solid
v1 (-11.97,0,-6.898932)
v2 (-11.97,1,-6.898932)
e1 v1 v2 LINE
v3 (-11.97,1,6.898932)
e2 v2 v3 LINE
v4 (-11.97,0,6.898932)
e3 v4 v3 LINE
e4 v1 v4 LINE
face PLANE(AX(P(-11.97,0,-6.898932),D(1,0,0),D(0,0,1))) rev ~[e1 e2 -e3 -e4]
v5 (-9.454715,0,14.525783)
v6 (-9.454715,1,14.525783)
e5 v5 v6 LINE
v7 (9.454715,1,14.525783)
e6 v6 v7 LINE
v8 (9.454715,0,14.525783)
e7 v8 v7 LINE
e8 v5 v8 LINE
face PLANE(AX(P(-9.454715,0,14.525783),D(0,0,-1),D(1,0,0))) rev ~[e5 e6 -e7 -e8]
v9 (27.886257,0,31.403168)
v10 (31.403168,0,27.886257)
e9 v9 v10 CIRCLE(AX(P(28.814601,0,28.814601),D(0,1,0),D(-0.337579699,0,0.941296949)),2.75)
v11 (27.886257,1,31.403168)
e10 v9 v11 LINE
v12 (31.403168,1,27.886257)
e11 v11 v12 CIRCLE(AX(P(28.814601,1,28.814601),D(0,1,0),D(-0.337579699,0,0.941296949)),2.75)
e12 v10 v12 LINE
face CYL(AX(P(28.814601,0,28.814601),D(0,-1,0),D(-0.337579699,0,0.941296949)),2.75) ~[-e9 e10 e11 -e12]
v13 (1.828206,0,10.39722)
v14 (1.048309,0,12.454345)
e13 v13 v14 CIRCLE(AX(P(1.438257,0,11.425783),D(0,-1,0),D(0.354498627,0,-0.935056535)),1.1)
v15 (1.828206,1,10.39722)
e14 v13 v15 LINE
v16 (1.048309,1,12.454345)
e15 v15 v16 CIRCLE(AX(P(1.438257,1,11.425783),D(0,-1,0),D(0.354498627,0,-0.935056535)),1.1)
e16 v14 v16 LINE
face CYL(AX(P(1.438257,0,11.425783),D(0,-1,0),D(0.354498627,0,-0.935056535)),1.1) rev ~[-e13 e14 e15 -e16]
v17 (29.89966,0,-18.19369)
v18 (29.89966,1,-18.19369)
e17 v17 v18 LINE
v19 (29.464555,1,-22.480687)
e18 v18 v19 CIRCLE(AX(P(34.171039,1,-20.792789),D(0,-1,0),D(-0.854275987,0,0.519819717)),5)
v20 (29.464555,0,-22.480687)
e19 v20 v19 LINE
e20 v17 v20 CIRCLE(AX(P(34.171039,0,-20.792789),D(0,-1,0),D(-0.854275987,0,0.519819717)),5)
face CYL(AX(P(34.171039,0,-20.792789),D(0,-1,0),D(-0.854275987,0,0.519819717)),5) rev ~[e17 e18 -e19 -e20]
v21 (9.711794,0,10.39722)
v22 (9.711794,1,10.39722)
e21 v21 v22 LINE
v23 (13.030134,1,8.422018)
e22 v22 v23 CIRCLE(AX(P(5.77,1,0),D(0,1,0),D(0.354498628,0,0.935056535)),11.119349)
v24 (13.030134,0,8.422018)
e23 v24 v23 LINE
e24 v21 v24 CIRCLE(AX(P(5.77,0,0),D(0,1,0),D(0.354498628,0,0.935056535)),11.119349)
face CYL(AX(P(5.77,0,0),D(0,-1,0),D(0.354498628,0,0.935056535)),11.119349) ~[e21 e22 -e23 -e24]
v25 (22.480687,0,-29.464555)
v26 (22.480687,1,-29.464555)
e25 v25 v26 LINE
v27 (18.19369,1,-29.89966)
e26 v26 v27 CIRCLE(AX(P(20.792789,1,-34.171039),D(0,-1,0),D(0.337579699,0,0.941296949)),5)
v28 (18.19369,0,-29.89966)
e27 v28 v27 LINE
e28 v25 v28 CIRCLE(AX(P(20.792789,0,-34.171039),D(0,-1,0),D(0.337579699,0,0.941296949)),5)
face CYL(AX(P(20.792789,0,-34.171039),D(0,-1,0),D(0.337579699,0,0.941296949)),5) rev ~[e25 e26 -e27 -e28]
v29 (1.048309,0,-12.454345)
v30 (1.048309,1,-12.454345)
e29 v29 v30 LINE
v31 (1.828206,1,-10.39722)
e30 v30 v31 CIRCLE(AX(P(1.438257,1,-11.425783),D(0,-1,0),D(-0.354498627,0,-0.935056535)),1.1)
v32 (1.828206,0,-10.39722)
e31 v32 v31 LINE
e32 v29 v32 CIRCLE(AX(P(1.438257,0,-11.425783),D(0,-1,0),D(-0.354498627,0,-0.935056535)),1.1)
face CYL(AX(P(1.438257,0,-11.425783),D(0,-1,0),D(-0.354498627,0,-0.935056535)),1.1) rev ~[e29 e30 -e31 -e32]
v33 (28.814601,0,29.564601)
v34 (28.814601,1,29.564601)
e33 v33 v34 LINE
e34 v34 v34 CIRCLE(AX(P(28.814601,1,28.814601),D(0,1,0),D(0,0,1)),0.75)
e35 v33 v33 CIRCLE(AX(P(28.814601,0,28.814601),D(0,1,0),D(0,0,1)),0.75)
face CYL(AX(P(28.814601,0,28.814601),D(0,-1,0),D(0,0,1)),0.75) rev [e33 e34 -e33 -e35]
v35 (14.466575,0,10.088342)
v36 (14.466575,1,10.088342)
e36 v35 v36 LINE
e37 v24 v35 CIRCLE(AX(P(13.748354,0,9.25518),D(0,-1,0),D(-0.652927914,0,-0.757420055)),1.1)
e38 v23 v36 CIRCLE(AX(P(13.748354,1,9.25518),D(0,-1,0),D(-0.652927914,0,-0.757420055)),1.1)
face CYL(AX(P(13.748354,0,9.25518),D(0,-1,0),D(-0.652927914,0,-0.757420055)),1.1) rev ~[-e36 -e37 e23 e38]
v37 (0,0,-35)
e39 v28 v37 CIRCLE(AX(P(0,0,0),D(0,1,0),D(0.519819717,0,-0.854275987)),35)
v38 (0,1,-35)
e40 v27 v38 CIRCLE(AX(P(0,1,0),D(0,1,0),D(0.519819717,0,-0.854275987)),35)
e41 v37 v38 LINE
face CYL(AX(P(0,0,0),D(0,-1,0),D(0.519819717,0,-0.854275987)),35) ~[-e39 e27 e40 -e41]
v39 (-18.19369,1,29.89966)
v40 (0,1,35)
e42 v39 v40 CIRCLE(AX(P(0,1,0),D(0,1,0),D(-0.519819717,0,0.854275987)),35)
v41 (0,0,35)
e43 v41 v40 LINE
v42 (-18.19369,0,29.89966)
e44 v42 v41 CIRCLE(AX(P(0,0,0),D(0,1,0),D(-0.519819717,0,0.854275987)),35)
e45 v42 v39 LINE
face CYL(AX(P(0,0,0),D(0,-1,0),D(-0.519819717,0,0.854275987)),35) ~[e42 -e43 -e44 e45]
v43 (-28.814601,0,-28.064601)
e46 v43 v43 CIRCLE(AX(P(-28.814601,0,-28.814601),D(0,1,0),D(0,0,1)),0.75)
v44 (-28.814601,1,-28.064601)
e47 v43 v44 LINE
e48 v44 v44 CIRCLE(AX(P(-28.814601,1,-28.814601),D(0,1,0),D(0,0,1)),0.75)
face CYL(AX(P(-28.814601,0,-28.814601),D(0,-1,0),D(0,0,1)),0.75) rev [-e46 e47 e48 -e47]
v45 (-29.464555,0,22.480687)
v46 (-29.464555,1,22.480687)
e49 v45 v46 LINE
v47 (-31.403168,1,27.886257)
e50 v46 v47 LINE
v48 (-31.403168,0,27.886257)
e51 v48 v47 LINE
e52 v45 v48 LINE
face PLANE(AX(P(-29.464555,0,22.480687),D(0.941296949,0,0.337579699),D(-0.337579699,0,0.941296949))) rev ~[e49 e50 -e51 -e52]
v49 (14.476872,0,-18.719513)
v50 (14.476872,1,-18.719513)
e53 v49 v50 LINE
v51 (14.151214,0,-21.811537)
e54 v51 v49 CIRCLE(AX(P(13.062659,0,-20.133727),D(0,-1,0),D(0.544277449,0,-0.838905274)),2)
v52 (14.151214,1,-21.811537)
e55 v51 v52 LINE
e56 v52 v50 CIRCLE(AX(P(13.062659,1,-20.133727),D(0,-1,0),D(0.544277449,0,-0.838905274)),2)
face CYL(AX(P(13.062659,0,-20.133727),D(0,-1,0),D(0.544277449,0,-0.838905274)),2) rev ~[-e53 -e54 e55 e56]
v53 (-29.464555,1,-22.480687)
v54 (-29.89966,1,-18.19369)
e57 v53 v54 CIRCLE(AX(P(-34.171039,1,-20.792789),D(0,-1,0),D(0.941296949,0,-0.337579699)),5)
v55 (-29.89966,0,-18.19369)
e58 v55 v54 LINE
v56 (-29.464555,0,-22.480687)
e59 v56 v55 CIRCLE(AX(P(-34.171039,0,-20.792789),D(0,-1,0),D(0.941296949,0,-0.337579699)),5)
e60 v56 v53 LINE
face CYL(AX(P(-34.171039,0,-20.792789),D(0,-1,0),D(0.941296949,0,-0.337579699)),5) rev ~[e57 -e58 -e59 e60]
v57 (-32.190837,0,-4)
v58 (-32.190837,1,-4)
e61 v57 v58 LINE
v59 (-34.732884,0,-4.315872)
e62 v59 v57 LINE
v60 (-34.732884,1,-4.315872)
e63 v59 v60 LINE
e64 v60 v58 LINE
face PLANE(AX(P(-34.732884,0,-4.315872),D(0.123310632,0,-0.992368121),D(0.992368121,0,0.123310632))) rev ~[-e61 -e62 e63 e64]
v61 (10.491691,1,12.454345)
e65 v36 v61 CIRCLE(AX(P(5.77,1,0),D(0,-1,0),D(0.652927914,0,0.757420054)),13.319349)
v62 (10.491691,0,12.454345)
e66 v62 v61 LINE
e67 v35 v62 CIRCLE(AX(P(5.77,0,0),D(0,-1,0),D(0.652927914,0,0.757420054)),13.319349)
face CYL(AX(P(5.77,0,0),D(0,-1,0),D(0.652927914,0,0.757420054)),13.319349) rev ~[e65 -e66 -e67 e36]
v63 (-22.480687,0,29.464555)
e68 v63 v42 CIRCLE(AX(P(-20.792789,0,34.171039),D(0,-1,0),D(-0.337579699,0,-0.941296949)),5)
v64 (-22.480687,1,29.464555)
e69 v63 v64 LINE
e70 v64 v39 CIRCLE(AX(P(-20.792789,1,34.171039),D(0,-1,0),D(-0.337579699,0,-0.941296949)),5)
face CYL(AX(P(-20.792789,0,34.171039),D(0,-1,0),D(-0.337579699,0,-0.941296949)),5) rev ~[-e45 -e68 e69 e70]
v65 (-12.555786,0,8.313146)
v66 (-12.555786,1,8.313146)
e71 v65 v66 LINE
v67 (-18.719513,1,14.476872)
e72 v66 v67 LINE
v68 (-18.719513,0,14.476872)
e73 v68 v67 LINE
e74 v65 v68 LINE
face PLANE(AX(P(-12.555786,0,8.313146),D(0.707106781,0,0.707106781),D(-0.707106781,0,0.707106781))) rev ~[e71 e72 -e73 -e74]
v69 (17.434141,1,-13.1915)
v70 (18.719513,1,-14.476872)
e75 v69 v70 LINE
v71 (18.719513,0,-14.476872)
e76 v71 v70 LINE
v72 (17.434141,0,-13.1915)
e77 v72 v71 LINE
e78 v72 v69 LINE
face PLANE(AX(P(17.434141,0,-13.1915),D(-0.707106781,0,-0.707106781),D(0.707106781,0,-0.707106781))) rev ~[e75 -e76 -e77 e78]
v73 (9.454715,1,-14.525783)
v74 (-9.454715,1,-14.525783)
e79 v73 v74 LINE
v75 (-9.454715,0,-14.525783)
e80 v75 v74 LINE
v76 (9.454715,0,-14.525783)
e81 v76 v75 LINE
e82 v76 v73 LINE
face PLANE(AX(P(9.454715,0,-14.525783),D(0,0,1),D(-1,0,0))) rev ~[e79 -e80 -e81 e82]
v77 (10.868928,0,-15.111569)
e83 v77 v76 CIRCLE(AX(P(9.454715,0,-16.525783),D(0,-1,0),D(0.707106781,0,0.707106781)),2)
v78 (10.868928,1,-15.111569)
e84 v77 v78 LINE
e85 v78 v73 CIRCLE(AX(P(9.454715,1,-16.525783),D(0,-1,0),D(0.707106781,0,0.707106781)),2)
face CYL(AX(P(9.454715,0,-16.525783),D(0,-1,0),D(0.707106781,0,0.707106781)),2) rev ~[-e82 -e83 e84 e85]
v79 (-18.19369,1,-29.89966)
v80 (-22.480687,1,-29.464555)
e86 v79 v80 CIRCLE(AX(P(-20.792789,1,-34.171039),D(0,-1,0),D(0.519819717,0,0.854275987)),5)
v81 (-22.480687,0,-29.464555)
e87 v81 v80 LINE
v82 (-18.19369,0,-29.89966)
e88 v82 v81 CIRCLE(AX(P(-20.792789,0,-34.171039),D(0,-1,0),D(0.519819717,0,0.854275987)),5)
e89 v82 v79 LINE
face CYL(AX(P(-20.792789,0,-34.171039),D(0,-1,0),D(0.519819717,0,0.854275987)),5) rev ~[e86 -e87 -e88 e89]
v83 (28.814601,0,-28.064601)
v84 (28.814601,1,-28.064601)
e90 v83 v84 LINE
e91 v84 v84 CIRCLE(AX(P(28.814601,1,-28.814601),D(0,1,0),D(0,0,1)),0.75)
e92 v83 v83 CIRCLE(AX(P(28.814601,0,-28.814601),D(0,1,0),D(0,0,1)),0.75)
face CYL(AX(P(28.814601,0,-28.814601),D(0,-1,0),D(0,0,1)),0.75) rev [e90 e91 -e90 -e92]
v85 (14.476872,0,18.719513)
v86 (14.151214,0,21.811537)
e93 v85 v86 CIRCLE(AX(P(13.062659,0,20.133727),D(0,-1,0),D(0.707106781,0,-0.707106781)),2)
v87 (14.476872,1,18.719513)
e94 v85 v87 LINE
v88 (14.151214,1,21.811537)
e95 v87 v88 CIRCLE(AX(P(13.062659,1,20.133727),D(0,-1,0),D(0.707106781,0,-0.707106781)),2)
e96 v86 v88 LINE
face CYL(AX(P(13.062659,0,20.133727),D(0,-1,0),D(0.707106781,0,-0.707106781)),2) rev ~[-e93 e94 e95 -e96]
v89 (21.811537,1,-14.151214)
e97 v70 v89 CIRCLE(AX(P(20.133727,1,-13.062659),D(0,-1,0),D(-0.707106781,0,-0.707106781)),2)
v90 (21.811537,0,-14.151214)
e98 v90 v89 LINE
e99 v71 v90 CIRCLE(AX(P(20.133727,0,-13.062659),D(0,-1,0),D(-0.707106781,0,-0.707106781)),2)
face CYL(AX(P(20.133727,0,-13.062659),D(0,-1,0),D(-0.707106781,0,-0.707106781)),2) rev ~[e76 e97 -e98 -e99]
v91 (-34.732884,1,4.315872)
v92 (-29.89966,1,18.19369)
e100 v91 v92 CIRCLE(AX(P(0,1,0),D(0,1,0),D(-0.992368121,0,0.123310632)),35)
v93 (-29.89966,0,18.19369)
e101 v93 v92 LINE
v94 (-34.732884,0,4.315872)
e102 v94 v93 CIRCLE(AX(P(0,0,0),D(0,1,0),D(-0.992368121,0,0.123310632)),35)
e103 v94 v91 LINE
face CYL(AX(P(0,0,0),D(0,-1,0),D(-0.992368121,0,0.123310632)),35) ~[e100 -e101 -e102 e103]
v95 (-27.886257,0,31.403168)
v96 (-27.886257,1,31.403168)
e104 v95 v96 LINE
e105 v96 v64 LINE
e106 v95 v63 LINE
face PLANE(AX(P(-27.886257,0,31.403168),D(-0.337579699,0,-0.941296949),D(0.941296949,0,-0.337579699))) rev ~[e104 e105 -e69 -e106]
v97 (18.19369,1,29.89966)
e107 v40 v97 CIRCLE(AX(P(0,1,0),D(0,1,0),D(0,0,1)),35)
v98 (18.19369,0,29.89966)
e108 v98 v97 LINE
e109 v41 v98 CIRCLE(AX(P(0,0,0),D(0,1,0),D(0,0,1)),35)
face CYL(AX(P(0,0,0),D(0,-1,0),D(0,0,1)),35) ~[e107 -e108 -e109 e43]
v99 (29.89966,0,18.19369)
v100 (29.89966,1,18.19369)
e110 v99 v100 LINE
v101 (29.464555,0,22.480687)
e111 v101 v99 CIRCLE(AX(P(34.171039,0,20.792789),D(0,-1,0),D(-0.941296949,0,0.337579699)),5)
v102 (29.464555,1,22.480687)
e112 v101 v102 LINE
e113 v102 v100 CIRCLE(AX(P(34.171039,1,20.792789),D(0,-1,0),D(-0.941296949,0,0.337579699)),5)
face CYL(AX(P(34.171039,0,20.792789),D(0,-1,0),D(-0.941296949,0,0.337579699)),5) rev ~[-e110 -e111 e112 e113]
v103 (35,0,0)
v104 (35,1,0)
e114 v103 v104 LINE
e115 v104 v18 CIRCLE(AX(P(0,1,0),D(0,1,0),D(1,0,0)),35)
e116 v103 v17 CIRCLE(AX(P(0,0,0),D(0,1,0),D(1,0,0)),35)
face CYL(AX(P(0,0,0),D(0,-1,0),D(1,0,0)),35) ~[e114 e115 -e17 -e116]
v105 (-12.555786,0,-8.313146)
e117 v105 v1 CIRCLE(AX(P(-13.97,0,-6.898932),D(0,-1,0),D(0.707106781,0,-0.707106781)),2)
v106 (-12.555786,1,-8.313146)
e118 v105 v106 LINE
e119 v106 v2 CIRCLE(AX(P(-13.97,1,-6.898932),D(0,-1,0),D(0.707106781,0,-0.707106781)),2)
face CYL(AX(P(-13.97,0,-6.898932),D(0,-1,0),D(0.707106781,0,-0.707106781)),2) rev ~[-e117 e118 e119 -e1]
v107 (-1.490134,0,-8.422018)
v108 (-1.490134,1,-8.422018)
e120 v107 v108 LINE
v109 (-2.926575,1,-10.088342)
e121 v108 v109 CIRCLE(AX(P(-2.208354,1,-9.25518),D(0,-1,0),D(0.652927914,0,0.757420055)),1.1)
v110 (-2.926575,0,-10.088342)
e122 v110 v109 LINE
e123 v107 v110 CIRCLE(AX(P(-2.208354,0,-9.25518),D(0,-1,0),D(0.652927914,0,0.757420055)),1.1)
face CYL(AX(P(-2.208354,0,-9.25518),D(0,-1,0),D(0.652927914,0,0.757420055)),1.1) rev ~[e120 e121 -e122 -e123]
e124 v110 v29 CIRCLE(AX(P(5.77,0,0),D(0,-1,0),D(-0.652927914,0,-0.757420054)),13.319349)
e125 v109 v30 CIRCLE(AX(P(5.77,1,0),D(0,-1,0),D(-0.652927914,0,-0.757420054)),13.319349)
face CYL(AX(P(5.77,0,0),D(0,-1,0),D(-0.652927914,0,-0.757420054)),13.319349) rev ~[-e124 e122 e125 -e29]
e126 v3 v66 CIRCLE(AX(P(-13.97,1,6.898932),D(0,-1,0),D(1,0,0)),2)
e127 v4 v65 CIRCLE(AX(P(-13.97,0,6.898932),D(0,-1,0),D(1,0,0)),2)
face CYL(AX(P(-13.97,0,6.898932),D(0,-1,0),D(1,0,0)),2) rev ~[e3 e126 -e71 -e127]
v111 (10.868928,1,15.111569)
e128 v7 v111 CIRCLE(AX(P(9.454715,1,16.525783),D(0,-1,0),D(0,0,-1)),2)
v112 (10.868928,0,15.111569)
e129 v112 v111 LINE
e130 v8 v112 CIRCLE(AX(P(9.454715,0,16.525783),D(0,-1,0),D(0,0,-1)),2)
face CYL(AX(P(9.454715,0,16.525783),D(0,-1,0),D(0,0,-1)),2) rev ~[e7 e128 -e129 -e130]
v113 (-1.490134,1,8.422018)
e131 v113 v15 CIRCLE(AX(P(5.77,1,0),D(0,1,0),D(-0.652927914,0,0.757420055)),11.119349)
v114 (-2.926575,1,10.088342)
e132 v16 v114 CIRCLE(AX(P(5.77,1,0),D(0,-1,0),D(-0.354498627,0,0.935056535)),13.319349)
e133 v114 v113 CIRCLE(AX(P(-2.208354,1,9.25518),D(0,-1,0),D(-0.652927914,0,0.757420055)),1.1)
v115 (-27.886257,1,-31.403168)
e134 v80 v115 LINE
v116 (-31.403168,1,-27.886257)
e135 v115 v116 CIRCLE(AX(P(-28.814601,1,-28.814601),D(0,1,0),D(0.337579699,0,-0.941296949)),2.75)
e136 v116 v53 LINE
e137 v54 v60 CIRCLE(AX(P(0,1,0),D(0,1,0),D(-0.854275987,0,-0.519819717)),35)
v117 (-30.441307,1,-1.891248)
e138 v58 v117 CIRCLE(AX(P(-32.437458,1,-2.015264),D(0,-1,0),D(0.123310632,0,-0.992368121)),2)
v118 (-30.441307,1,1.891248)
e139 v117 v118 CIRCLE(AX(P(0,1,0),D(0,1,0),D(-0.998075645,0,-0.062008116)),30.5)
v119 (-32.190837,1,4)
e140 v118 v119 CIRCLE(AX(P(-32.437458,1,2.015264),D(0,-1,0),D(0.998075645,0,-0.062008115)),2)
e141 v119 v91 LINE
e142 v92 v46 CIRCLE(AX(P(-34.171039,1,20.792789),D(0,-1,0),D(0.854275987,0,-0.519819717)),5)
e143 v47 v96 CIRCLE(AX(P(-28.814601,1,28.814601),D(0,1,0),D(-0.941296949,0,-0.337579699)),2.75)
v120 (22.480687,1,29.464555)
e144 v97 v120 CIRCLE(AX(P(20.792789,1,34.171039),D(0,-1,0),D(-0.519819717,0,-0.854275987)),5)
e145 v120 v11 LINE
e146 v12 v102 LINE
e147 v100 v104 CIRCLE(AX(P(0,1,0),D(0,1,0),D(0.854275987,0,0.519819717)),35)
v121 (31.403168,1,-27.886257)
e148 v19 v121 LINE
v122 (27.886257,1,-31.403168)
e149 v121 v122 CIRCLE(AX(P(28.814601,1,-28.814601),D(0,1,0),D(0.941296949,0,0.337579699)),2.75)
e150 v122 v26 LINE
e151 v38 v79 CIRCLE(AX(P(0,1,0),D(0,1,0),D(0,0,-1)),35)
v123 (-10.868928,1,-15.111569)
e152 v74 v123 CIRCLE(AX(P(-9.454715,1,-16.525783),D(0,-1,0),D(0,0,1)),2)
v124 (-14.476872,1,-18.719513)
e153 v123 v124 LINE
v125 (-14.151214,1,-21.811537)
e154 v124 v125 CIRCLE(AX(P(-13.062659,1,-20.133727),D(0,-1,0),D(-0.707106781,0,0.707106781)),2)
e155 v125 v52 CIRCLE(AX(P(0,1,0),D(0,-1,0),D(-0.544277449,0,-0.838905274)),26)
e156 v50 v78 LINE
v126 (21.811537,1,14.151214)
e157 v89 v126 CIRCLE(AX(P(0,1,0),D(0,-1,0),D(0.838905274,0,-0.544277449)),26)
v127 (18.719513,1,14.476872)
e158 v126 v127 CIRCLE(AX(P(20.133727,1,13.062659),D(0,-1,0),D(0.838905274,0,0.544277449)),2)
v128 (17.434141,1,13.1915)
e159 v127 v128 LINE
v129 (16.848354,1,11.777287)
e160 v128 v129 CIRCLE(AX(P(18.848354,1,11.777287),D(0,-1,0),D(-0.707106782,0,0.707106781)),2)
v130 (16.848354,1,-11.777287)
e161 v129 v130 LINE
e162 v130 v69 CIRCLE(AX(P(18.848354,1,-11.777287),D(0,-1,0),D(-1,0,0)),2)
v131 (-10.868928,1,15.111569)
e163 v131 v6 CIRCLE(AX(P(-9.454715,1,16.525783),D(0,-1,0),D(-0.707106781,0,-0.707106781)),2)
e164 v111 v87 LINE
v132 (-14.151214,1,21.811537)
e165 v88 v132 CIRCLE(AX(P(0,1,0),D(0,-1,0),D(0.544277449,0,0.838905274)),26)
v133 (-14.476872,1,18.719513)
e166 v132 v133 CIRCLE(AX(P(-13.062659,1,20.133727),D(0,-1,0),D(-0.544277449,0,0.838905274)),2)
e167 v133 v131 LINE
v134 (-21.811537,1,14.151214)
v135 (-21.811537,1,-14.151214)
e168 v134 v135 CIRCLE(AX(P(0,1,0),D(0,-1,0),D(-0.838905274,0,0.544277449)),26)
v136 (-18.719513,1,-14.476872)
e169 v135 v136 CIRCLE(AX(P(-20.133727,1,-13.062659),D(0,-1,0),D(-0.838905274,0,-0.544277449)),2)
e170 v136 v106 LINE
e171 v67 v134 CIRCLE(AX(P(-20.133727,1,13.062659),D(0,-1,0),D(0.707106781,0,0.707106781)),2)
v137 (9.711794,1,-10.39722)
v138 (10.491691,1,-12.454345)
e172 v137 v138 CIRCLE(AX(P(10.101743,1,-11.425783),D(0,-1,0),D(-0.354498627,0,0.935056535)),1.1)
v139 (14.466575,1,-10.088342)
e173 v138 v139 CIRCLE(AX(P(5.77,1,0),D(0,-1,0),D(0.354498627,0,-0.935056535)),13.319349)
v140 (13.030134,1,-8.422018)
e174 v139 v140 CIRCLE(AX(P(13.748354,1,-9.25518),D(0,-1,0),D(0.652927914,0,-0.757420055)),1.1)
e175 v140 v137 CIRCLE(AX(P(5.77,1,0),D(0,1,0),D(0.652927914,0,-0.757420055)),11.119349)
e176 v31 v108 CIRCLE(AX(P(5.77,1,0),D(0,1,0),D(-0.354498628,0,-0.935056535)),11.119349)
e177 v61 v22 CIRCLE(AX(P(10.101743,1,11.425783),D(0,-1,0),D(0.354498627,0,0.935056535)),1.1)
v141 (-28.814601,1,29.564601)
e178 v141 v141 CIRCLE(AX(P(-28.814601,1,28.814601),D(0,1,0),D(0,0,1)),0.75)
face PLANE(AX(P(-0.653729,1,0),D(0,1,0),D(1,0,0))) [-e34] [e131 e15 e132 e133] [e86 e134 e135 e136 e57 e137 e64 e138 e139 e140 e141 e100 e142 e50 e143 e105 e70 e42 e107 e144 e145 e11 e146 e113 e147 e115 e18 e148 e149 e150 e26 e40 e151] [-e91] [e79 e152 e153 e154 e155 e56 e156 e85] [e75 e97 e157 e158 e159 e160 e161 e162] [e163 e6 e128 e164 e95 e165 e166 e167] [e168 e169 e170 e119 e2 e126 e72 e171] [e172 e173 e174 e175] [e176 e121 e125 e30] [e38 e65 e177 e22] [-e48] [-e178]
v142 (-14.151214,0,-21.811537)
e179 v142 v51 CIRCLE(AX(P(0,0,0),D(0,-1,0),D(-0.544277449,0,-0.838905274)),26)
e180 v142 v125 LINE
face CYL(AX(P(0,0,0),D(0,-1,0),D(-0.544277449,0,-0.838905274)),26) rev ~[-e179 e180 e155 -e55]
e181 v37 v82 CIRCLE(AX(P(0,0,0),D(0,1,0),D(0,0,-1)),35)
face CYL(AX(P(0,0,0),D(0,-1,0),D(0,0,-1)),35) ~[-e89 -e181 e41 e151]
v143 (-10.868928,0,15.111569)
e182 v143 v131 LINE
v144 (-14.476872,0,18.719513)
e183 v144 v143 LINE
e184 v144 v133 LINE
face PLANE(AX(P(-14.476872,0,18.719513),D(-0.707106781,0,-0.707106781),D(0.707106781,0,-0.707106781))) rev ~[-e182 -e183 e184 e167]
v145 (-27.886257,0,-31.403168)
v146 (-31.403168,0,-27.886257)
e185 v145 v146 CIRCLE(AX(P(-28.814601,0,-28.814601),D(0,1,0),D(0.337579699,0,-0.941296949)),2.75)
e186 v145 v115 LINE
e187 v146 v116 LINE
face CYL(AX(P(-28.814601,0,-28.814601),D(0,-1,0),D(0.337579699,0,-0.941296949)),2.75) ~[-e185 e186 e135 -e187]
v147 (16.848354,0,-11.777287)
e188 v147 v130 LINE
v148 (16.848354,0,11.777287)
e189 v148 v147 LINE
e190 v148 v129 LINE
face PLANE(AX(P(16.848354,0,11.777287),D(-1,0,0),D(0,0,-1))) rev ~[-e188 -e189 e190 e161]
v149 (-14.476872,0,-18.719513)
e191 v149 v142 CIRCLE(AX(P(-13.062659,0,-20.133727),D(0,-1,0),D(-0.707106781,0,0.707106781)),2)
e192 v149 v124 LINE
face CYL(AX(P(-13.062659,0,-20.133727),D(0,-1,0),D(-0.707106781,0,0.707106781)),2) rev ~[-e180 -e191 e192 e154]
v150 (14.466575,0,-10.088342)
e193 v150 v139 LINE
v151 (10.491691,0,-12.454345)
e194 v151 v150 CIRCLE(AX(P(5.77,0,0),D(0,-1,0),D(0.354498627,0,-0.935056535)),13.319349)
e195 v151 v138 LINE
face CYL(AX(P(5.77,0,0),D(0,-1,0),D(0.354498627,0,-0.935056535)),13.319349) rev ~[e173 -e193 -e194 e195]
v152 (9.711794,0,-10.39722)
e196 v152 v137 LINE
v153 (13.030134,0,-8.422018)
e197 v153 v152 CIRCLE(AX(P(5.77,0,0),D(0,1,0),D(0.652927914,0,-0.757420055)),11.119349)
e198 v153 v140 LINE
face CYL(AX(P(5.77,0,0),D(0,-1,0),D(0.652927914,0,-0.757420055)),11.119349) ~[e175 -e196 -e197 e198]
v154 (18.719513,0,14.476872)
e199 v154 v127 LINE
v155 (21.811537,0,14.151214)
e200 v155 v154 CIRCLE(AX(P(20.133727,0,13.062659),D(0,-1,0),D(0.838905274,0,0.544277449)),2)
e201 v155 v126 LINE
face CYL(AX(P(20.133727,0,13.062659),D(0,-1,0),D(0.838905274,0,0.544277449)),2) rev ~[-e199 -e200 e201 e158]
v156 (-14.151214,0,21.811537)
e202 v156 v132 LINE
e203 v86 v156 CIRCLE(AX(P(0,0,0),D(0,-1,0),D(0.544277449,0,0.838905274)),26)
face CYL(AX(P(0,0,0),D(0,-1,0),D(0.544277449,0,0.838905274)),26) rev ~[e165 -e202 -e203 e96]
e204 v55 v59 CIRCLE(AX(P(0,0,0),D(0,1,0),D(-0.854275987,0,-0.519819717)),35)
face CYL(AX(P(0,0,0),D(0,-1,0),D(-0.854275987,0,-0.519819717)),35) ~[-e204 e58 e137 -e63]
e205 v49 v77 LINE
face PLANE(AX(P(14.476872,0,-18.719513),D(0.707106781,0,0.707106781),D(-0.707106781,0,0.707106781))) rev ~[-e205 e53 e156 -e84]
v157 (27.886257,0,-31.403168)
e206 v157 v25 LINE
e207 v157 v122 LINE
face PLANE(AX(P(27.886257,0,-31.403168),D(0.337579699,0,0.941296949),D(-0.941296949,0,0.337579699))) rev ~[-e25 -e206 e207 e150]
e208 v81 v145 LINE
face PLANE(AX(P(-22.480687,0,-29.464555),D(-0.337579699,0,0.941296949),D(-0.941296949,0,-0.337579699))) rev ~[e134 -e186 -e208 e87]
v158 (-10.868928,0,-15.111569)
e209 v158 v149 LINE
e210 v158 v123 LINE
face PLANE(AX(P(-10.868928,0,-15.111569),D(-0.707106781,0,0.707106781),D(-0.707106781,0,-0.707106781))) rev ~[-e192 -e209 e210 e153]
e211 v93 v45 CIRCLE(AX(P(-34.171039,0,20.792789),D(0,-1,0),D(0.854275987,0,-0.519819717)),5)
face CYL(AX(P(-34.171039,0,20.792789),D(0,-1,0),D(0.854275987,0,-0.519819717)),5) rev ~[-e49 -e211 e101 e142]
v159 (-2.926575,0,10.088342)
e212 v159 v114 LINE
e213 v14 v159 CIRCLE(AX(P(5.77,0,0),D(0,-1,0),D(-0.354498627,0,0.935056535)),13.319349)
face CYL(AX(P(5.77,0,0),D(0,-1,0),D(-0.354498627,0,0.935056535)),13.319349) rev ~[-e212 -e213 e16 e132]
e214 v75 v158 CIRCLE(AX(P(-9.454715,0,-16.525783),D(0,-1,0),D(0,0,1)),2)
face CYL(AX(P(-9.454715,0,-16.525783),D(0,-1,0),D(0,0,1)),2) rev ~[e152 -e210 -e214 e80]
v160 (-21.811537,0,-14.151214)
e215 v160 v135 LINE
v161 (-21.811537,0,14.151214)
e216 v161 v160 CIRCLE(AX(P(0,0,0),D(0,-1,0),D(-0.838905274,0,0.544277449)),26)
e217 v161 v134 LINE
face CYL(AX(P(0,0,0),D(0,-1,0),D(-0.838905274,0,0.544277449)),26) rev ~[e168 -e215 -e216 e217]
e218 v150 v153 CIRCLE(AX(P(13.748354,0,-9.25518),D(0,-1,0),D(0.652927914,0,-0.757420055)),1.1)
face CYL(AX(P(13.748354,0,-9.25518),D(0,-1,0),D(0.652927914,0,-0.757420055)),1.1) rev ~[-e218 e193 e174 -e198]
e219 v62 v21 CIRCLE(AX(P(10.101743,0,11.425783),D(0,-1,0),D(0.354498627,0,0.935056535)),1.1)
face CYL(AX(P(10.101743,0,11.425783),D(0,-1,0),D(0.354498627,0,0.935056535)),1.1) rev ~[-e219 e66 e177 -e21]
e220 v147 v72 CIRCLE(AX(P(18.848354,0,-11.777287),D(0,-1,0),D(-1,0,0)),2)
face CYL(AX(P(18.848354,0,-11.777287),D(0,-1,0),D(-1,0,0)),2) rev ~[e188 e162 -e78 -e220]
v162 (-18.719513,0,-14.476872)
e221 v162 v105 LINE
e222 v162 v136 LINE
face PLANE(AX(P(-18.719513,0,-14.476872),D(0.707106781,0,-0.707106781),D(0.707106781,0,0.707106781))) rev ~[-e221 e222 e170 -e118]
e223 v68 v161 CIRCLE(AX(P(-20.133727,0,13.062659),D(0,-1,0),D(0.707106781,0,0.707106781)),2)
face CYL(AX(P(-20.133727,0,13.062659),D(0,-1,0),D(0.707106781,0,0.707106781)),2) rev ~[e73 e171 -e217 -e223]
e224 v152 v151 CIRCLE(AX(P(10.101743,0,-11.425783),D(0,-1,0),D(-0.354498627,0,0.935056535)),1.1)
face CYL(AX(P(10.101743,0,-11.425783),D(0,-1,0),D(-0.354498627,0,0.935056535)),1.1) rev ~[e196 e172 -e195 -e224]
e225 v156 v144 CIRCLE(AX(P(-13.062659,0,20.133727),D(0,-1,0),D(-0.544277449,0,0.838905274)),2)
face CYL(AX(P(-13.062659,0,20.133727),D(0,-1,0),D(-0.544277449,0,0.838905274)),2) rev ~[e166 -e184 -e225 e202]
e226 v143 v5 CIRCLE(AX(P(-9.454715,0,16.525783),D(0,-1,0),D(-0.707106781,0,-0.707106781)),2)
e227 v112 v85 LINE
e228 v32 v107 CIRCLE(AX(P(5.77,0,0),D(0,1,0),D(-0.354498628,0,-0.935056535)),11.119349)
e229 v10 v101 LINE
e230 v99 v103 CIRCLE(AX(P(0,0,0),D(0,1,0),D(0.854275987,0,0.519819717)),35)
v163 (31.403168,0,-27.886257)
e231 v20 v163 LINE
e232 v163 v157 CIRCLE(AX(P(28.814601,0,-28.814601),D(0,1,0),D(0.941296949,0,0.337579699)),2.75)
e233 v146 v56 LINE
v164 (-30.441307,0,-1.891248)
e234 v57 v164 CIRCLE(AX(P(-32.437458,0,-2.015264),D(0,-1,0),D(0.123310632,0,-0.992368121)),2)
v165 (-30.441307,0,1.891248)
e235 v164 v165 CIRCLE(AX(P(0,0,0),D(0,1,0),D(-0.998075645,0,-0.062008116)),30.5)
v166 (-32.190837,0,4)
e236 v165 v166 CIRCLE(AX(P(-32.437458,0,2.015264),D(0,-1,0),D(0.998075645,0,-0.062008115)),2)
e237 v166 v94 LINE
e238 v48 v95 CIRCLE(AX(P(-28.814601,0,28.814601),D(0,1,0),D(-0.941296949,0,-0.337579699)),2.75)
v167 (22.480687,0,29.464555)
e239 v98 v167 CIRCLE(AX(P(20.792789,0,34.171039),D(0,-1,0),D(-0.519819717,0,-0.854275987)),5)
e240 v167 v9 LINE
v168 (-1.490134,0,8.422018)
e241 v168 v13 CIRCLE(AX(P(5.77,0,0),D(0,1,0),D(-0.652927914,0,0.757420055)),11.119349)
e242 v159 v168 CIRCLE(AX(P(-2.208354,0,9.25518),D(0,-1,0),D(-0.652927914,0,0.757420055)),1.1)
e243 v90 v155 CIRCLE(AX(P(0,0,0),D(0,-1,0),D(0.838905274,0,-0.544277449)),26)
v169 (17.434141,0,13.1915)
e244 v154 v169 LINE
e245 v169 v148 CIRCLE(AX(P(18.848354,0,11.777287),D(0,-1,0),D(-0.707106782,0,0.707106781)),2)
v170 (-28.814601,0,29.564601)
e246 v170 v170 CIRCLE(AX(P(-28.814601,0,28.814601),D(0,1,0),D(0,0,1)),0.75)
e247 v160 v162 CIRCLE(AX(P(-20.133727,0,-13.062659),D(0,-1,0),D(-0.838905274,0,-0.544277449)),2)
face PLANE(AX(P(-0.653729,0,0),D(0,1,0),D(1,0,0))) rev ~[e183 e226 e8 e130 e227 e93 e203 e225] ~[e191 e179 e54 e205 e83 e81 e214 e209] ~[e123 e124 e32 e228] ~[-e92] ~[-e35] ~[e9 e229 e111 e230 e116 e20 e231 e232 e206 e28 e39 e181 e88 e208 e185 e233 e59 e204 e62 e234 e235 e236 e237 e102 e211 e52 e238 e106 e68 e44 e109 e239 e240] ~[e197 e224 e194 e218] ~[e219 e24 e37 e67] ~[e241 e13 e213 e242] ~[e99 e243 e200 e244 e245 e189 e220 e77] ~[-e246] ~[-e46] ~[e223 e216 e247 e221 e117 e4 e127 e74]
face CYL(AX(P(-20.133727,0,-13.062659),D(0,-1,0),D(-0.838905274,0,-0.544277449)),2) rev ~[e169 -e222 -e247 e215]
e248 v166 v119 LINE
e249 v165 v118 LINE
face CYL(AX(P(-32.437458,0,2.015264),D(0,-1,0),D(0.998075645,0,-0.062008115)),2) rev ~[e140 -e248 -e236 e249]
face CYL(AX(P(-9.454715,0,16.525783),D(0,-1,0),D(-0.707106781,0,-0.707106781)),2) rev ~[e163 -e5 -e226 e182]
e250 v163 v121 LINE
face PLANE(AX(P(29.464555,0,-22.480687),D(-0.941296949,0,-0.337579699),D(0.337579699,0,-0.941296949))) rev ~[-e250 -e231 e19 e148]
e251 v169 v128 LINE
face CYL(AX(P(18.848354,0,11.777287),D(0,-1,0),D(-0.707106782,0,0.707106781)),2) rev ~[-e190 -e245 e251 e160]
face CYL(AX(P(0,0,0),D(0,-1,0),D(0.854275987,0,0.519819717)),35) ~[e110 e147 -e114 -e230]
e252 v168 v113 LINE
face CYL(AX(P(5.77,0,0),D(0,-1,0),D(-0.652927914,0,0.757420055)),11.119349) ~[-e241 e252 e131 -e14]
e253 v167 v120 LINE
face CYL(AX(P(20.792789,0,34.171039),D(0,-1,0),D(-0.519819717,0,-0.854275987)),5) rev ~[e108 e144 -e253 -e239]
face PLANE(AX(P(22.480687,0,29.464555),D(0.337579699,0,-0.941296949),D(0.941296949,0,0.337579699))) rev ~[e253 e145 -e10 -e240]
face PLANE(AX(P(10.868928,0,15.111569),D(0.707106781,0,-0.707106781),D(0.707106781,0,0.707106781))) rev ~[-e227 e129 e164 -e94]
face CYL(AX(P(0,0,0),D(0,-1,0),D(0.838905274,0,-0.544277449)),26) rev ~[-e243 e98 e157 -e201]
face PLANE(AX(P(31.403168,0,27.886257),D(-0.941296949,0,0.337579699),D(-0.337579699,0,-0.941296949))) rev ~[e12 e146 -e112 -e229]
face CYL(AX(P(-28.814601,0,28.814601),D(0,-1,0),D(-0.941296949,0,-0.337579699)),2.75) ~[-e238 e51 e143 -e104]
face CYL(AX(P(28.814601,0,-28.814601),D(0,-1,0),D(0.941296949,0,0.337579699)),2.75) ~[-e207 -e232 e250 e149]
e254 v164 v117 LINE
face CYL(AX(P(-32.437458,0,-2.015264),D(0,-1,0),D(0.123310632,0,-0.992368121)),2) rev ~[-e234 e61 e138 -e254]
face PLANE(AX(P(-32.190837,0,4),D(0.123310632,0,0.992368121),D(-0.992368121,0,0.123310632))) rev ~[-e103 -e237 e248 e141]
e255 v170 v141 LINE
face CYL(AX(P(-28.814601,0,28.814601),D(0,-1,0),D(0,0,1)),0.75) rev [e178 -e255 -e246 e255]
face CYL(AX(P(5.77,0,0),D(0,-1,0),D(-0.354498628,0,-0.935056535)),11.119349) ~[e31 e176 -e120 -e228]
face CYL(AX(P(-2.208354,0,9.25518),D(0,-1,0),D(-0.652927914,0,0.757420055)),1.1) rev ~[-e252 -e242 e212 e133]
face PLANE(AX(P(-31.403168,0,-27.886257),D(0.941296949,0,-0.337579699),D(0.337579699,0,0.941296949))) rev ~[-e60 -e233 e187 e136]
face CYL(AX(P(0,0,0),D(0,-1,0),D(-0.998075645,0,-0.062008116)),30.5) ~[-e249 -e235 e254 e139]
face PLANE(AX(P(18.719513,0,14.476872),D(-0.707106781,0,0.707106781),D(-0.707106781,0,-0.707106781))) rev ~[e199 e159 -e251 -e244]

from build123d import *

# Parameters (mm, degrees)
SKETCH_1_R      = 0.75
EXTRUDE_1_DEPTH = 1


with BuildPart() as part:
    # 草图1 → 凸台-拉伸1 (new body)
    with BuildSketch(Plane(origin=(0, 0, 0), x_dir=(1, 0, 0), z_dir=(0, 1, 0))):
        with BuildLine():
            Line((29.46455474, 22.480687159), (31.403167944, 27.886257161))
            ThreePointArc((31.403167944, 27.886257161), (30.759144982, 30.759144982), (27.886257161, 31.403167944))
            Line((27.886257161, 31.403167944), (22.480687159, 29.46455474))
            ThreePointArc((22.480687159, 29.46455474), (20.287911996, 29.196594839), (18.19369008, 29.899659551))
            ThreePointArc((18.19369008, 29.899659551), (9.447537132, 33.700801803), (0, 35))
            ThreePointArc((0, 35), (-9.447537132, 33.700801803), (-18.19369008, 29.899659551))
            ThreePointArc((-18.19369008, 29.899659551), (-20.287911996, 29.196594839), (-22.480687159, 29.46455474))
            Line((-22.480687159, 29.46455474), (-27.886257161, 31.403167944))
            ThreePointArc((-27.886257161, 31.403167944), (-30.759144982, 30.759144982), (-31.403167944, 27.886257161))
            Line((-31.403167944, 27.886257161), (-29.46455474, 22.480687159))
            ThreePointArc((-29.46455474, 22.480687159), (-29.196594839, 20.287911996), (-29.899659551, 18.19369008))
            ThreePointArc((-29.899659551, 18.19369008), (-33.052834782, 11.511303701), (-34.732884242, 4.315872125))
            Line((-34.732884242, 4.315872125), (-32.190837206, 4))
            ThreePointArc((-32.190837206, 4), (-30.89823255, 3.292285123), (-30.441307179, 1.891247526))
            ThreePointArc((-30.441307179, 1.891247526), (-30.5, 0), (-30.441307179, -1.891247526))
            ThreePointArc((-30.441307179, -1.891247526), (-30.89823255, -3.292285123), (-32.190837206, -4))
            Line((-32.190837206, -4), (-34.732884242, -4.315872125))
            ThreePointArc((-34.732884242, -4.315872125), (-33.052834782, -11.511303701), (-29.899659551, -18.19369008))
            ThreePointArc((-29.899659551, -18.19369008), (-29.196594839, -20.287911996), (-29.46455474, -22.480687159))
            Line((-29.46455474, -22.480687159), (-31.403167944, -27.886257161))
            ThreePointArc((-31.403167944, -27.886257161), (-30.759144982, -30.759144982), (-27.886257161, -31.403167944))
            Line((-27.886257161, -31.403167944), (-22.480687159, -29.46455474))
            ThreePointArc((-22.480687159, -29.46455474), (-20.287911996, -29.196594839), (-18.19369008, -29.899659551))
            ThreePointArc((-18.19369008, -29.899659551), (-9.447537132, -33.700801803), (0, -35))
            ThreePointArc((0, -35), (9.447537132, -33.700801803), (18.19369008, -29.899659551))
            ThreePointArc((18.19369008, -29.899659551), (20.287911996, -29.196594839), (22.480687159, -29.46455474))
            Line((22.480687159, -29.46455474), (27.886257161, -31.403167944))
            ThreePointArc((27.886257161, -31.403167944), (30.759144982, -30.759144982), (31.403167944, -27.886257161))
            Line((31.403167944, -27.886257161), (29.46455474, -22.480687159))
            ThreePointArc((29.46455474, -22.480687159), (29.196594839, -20.287911996), (29.899659551, -18.19369008))
            ThreePointArc((29.899659551, -18.19369008), (33.700801803, -9.447537132), (35, 0))
            ThreePointArc((35, 0), (33.700801803, 9.447537132), (29.899659551, 18.19369008))
            ThreePointArc((29.899659551, 18.19369008), (29.196594839, 20.287911996), (29.46455474, 22.480687159))
        make_face()
        with Locations(Location((-28.814601333, -28.814601333, 0), (0, 0, 270))):
            Circle(SKETCH_1_R, mode=Mode.SUBTRACT)
        with BuildLine():
            Line((-14.476872329, -18.719513016), (-10.868928268, -15.111568955))
            ThreePointArc((-10.868928268, -15.111568955), (-10.22008157, -14.678023452), (-9.454714705, -14.525782517))
            Line((-9.454714705, -14.525782517), (9.454714705, -14.525782517))
            ThreePointArc((9.454714705, -14.525782517), (10.22008157, -14.678023452), (10.868928268, -15.111568955))
            Line((10.868928268, -15.111568955), (14.476872329, -18.719513016))
            ThreePointArc((14.476872329, -18.719513016), (15.051657451, -20.343212221), (14.151213664, -21.811537127))
            ThreePointArc((14.151213664, -21.811537127), (0, -26), (-14.151213664, -21.811537127))
            ThreePointArc((-14.151213664, -21.811537127), (-15.051657451, -20.343212221), (-14.476872329, -18.719513016))
        make_face(mode=Mode.SUBTRACT)
        with BuildLine():
            ThreePointArc((1.828205899, -10.397220329), (2.466819597, -11.815731007), (1.048308919, -12.454344705))
            ThreePointArc((1.048308919, -12.454344705), (-1.042632246, -11.445222173), (-2.926575027, -10.088342356))
            ThreePointArc((-2.926575027, -10.088342356), (-3.041516382, -8.536959591), (-1.490133616, -8.422018236))
            ThreePointArc((-1.490133616, -8.422018236), (0.082632246, -9.554777827), (1.828205899, -10.397220329))
        make_face(mode=Mode.SUBTRACT)
        with Locations(Location((28.814601333, -28.814601333, 0), (0, 0, 270))):
            Circle(SKETCH_1_R, mode=Mode.SUBTRACT)
        with BuildLine():
            ThreePointArc((14.466575027, -10.088342356), (12.582632246, -11.445222173), (10.491691081, -12.454344705))
            ThreePointArc((10.491691081, -12.454344705), (9.073180403, -11.815731007), (9.711794101, -10.397220329))
            ThreePointArc((9.711794101, -10.397220329), (11.457367754, -9.554777827), (13.030133616, -8.422018236))
            ThreePointArc((13.030133616, -8.422018236), (14.581516382, -8.536959591), (14.466575027, -10.088342356))
        make_face(mode=Mode.SUBTRACT)
        with BuildLine():
            Line((-11.97, 6.898932188), (-11.97, -6.898932188))
            ThreePointArc((-11.97, -6.898932188), (-12.122240935, -7.664299053), (-12.555786438, -8.313145751))
            Line((-12.555786438, -8.313145751), (-18.719513016, -14.476872329))
            ThreePointArc((-18.719513016, -14.476872329), (-20.343212221, -15.051657451), (-21.811537127, -14.151213664))
            ThreePointArc((-21.811537127, -14.151213664), (-26, 0), (-21.811537127, 14.151213664))
            ThreePointArc((-21.811537127, 14.151213664), (-20.343212221, 15.051657451), (-18.719513016, 14.476872329))
            Line((-18.719513016, 14.476872329), (-12.555786438, 8.313145751))
            ThreePointArc((-12.555786438, 8.313145751), (-12.122240935, 7.664299053), (-11.97, 6.898932188))
        make_face(mode=Mode.SUBTRACT)
        with BuildLine():
            ThreePointArc((-2.926575027, 10.088342356), (-1.042632246, 11.445222173), (1.048308919, 12.454344705))
            ThreePointArc((1.048308919, 12.454344705), (2.466819597, 11.815731007), (1.828205899, 10.397220329))
            ThreePointArc((1.828205899, 10.397220329), (0.082632246, 9.554777827), (-1.490133616, 8.422018236))
            ThreePointArc((-1.490133616, 8.422018236), (-3.041516382, 8.536959591), (-2.926575027, 10.088342356))
        make_face(mode=Mode.SUBTRACT)
        with Locations(Location((-28.814601333, 28.814601333, 0), (0, 0, 270))):
            Circle(SKETCH_1_R, mode=Mode.SUBTRACT)
        with BuildLine():
            ThreePointArc((10.868928268, 15.111568955), (10.22008157, 14.678023452), (9.454714705, 14.525782517))
            Line((9.454714705, 14.525782517), (-9.454714705, 14.525782517))
            ThreePointArc((-9.454714705, 14.525782517), (-10.22008157, 14.678023452), (-10.868928268, 15.111568955))
            Line((-10.868928268, 15.111568955), (-14.476872329, 18.719513016))
            ThreePointArc((-14.476872329, 18.719513016), (-15.051657451, 20.343212221), (-14.151213664, 21.811537127))
            ThreePointArc((-14.151213664, 21.811537127), (0, 26), (14.151213664, 21.811537127))
            ThreePointArc((14.151213664, 21.811537127), (15.051657451, 20.343212221), (14.476872329, 18.719513016))
            Line((14.476872329, 18.719513016), (10.868928268, 15.111568955))
        make_face(mode=Mode.SUBTRACT)
        with BuildLine():
            ThreePointArc((9.711794101, 10.397220329), (9.073180403, 11.815731007), (10.491691081, 12.454344705))
            ThreePointArc((10.491691081, 12.454344705), (12.582632246, 11.445222173), (14.466575027, 10.088342356))
            ThreePointArc((14.466575027, 10.088342356), (14.581516382, 8.536959591), (13.030133616, 8.422018236))
            ThreePointArc((13.030133616, 8.422018236), (11.457367754, 9.554777827), (9.711794101, 10.397220329))
        make_face(mode=Mode.SUBTRACT)
        with BuildLine():
            ThreePointArc((21.811537127, -14.151213664), (20.343212221, -15.051657451), (18.719513016, -14.476872329))
            Line((18.719513016, -14.476872329), (17.434140759, -13.191500072))
            ThreePointArc((17.434140759, -13.191500072), (17.000595257, -12.542653375), (16.848354322, -11.77728651))
            Line((16.848354322, -11.77728651), (16.848354322, 11.77728651))
            ThreePointArc((16.848354322, 11.77728651), (17.000595257, 12.542653375), (17.434140759, 13.191500072))
            Line((17.434140759, 13.191500072), (18.719513016, 14.476872329))
            ThreePointArc((18.719513016, 14.476872329), (20.343212221, 15.051657451), (21.811537127, 14.151213664))
            ThreePointArc((21.811537127, 14.151213664), (26, 0), (21.811537127, -14.151213664))
        make_face(mode=Mode.SUBTRACT)
        with Locations(Location((28.814601333, 28.814601333, 0), (0, 0, 270))):
            Circle(SKETCH_1_R, mode=Mode.SUBTRACT)
    extrude(amount=EXTRUDE_1_DEPTH)


solid = part.part
